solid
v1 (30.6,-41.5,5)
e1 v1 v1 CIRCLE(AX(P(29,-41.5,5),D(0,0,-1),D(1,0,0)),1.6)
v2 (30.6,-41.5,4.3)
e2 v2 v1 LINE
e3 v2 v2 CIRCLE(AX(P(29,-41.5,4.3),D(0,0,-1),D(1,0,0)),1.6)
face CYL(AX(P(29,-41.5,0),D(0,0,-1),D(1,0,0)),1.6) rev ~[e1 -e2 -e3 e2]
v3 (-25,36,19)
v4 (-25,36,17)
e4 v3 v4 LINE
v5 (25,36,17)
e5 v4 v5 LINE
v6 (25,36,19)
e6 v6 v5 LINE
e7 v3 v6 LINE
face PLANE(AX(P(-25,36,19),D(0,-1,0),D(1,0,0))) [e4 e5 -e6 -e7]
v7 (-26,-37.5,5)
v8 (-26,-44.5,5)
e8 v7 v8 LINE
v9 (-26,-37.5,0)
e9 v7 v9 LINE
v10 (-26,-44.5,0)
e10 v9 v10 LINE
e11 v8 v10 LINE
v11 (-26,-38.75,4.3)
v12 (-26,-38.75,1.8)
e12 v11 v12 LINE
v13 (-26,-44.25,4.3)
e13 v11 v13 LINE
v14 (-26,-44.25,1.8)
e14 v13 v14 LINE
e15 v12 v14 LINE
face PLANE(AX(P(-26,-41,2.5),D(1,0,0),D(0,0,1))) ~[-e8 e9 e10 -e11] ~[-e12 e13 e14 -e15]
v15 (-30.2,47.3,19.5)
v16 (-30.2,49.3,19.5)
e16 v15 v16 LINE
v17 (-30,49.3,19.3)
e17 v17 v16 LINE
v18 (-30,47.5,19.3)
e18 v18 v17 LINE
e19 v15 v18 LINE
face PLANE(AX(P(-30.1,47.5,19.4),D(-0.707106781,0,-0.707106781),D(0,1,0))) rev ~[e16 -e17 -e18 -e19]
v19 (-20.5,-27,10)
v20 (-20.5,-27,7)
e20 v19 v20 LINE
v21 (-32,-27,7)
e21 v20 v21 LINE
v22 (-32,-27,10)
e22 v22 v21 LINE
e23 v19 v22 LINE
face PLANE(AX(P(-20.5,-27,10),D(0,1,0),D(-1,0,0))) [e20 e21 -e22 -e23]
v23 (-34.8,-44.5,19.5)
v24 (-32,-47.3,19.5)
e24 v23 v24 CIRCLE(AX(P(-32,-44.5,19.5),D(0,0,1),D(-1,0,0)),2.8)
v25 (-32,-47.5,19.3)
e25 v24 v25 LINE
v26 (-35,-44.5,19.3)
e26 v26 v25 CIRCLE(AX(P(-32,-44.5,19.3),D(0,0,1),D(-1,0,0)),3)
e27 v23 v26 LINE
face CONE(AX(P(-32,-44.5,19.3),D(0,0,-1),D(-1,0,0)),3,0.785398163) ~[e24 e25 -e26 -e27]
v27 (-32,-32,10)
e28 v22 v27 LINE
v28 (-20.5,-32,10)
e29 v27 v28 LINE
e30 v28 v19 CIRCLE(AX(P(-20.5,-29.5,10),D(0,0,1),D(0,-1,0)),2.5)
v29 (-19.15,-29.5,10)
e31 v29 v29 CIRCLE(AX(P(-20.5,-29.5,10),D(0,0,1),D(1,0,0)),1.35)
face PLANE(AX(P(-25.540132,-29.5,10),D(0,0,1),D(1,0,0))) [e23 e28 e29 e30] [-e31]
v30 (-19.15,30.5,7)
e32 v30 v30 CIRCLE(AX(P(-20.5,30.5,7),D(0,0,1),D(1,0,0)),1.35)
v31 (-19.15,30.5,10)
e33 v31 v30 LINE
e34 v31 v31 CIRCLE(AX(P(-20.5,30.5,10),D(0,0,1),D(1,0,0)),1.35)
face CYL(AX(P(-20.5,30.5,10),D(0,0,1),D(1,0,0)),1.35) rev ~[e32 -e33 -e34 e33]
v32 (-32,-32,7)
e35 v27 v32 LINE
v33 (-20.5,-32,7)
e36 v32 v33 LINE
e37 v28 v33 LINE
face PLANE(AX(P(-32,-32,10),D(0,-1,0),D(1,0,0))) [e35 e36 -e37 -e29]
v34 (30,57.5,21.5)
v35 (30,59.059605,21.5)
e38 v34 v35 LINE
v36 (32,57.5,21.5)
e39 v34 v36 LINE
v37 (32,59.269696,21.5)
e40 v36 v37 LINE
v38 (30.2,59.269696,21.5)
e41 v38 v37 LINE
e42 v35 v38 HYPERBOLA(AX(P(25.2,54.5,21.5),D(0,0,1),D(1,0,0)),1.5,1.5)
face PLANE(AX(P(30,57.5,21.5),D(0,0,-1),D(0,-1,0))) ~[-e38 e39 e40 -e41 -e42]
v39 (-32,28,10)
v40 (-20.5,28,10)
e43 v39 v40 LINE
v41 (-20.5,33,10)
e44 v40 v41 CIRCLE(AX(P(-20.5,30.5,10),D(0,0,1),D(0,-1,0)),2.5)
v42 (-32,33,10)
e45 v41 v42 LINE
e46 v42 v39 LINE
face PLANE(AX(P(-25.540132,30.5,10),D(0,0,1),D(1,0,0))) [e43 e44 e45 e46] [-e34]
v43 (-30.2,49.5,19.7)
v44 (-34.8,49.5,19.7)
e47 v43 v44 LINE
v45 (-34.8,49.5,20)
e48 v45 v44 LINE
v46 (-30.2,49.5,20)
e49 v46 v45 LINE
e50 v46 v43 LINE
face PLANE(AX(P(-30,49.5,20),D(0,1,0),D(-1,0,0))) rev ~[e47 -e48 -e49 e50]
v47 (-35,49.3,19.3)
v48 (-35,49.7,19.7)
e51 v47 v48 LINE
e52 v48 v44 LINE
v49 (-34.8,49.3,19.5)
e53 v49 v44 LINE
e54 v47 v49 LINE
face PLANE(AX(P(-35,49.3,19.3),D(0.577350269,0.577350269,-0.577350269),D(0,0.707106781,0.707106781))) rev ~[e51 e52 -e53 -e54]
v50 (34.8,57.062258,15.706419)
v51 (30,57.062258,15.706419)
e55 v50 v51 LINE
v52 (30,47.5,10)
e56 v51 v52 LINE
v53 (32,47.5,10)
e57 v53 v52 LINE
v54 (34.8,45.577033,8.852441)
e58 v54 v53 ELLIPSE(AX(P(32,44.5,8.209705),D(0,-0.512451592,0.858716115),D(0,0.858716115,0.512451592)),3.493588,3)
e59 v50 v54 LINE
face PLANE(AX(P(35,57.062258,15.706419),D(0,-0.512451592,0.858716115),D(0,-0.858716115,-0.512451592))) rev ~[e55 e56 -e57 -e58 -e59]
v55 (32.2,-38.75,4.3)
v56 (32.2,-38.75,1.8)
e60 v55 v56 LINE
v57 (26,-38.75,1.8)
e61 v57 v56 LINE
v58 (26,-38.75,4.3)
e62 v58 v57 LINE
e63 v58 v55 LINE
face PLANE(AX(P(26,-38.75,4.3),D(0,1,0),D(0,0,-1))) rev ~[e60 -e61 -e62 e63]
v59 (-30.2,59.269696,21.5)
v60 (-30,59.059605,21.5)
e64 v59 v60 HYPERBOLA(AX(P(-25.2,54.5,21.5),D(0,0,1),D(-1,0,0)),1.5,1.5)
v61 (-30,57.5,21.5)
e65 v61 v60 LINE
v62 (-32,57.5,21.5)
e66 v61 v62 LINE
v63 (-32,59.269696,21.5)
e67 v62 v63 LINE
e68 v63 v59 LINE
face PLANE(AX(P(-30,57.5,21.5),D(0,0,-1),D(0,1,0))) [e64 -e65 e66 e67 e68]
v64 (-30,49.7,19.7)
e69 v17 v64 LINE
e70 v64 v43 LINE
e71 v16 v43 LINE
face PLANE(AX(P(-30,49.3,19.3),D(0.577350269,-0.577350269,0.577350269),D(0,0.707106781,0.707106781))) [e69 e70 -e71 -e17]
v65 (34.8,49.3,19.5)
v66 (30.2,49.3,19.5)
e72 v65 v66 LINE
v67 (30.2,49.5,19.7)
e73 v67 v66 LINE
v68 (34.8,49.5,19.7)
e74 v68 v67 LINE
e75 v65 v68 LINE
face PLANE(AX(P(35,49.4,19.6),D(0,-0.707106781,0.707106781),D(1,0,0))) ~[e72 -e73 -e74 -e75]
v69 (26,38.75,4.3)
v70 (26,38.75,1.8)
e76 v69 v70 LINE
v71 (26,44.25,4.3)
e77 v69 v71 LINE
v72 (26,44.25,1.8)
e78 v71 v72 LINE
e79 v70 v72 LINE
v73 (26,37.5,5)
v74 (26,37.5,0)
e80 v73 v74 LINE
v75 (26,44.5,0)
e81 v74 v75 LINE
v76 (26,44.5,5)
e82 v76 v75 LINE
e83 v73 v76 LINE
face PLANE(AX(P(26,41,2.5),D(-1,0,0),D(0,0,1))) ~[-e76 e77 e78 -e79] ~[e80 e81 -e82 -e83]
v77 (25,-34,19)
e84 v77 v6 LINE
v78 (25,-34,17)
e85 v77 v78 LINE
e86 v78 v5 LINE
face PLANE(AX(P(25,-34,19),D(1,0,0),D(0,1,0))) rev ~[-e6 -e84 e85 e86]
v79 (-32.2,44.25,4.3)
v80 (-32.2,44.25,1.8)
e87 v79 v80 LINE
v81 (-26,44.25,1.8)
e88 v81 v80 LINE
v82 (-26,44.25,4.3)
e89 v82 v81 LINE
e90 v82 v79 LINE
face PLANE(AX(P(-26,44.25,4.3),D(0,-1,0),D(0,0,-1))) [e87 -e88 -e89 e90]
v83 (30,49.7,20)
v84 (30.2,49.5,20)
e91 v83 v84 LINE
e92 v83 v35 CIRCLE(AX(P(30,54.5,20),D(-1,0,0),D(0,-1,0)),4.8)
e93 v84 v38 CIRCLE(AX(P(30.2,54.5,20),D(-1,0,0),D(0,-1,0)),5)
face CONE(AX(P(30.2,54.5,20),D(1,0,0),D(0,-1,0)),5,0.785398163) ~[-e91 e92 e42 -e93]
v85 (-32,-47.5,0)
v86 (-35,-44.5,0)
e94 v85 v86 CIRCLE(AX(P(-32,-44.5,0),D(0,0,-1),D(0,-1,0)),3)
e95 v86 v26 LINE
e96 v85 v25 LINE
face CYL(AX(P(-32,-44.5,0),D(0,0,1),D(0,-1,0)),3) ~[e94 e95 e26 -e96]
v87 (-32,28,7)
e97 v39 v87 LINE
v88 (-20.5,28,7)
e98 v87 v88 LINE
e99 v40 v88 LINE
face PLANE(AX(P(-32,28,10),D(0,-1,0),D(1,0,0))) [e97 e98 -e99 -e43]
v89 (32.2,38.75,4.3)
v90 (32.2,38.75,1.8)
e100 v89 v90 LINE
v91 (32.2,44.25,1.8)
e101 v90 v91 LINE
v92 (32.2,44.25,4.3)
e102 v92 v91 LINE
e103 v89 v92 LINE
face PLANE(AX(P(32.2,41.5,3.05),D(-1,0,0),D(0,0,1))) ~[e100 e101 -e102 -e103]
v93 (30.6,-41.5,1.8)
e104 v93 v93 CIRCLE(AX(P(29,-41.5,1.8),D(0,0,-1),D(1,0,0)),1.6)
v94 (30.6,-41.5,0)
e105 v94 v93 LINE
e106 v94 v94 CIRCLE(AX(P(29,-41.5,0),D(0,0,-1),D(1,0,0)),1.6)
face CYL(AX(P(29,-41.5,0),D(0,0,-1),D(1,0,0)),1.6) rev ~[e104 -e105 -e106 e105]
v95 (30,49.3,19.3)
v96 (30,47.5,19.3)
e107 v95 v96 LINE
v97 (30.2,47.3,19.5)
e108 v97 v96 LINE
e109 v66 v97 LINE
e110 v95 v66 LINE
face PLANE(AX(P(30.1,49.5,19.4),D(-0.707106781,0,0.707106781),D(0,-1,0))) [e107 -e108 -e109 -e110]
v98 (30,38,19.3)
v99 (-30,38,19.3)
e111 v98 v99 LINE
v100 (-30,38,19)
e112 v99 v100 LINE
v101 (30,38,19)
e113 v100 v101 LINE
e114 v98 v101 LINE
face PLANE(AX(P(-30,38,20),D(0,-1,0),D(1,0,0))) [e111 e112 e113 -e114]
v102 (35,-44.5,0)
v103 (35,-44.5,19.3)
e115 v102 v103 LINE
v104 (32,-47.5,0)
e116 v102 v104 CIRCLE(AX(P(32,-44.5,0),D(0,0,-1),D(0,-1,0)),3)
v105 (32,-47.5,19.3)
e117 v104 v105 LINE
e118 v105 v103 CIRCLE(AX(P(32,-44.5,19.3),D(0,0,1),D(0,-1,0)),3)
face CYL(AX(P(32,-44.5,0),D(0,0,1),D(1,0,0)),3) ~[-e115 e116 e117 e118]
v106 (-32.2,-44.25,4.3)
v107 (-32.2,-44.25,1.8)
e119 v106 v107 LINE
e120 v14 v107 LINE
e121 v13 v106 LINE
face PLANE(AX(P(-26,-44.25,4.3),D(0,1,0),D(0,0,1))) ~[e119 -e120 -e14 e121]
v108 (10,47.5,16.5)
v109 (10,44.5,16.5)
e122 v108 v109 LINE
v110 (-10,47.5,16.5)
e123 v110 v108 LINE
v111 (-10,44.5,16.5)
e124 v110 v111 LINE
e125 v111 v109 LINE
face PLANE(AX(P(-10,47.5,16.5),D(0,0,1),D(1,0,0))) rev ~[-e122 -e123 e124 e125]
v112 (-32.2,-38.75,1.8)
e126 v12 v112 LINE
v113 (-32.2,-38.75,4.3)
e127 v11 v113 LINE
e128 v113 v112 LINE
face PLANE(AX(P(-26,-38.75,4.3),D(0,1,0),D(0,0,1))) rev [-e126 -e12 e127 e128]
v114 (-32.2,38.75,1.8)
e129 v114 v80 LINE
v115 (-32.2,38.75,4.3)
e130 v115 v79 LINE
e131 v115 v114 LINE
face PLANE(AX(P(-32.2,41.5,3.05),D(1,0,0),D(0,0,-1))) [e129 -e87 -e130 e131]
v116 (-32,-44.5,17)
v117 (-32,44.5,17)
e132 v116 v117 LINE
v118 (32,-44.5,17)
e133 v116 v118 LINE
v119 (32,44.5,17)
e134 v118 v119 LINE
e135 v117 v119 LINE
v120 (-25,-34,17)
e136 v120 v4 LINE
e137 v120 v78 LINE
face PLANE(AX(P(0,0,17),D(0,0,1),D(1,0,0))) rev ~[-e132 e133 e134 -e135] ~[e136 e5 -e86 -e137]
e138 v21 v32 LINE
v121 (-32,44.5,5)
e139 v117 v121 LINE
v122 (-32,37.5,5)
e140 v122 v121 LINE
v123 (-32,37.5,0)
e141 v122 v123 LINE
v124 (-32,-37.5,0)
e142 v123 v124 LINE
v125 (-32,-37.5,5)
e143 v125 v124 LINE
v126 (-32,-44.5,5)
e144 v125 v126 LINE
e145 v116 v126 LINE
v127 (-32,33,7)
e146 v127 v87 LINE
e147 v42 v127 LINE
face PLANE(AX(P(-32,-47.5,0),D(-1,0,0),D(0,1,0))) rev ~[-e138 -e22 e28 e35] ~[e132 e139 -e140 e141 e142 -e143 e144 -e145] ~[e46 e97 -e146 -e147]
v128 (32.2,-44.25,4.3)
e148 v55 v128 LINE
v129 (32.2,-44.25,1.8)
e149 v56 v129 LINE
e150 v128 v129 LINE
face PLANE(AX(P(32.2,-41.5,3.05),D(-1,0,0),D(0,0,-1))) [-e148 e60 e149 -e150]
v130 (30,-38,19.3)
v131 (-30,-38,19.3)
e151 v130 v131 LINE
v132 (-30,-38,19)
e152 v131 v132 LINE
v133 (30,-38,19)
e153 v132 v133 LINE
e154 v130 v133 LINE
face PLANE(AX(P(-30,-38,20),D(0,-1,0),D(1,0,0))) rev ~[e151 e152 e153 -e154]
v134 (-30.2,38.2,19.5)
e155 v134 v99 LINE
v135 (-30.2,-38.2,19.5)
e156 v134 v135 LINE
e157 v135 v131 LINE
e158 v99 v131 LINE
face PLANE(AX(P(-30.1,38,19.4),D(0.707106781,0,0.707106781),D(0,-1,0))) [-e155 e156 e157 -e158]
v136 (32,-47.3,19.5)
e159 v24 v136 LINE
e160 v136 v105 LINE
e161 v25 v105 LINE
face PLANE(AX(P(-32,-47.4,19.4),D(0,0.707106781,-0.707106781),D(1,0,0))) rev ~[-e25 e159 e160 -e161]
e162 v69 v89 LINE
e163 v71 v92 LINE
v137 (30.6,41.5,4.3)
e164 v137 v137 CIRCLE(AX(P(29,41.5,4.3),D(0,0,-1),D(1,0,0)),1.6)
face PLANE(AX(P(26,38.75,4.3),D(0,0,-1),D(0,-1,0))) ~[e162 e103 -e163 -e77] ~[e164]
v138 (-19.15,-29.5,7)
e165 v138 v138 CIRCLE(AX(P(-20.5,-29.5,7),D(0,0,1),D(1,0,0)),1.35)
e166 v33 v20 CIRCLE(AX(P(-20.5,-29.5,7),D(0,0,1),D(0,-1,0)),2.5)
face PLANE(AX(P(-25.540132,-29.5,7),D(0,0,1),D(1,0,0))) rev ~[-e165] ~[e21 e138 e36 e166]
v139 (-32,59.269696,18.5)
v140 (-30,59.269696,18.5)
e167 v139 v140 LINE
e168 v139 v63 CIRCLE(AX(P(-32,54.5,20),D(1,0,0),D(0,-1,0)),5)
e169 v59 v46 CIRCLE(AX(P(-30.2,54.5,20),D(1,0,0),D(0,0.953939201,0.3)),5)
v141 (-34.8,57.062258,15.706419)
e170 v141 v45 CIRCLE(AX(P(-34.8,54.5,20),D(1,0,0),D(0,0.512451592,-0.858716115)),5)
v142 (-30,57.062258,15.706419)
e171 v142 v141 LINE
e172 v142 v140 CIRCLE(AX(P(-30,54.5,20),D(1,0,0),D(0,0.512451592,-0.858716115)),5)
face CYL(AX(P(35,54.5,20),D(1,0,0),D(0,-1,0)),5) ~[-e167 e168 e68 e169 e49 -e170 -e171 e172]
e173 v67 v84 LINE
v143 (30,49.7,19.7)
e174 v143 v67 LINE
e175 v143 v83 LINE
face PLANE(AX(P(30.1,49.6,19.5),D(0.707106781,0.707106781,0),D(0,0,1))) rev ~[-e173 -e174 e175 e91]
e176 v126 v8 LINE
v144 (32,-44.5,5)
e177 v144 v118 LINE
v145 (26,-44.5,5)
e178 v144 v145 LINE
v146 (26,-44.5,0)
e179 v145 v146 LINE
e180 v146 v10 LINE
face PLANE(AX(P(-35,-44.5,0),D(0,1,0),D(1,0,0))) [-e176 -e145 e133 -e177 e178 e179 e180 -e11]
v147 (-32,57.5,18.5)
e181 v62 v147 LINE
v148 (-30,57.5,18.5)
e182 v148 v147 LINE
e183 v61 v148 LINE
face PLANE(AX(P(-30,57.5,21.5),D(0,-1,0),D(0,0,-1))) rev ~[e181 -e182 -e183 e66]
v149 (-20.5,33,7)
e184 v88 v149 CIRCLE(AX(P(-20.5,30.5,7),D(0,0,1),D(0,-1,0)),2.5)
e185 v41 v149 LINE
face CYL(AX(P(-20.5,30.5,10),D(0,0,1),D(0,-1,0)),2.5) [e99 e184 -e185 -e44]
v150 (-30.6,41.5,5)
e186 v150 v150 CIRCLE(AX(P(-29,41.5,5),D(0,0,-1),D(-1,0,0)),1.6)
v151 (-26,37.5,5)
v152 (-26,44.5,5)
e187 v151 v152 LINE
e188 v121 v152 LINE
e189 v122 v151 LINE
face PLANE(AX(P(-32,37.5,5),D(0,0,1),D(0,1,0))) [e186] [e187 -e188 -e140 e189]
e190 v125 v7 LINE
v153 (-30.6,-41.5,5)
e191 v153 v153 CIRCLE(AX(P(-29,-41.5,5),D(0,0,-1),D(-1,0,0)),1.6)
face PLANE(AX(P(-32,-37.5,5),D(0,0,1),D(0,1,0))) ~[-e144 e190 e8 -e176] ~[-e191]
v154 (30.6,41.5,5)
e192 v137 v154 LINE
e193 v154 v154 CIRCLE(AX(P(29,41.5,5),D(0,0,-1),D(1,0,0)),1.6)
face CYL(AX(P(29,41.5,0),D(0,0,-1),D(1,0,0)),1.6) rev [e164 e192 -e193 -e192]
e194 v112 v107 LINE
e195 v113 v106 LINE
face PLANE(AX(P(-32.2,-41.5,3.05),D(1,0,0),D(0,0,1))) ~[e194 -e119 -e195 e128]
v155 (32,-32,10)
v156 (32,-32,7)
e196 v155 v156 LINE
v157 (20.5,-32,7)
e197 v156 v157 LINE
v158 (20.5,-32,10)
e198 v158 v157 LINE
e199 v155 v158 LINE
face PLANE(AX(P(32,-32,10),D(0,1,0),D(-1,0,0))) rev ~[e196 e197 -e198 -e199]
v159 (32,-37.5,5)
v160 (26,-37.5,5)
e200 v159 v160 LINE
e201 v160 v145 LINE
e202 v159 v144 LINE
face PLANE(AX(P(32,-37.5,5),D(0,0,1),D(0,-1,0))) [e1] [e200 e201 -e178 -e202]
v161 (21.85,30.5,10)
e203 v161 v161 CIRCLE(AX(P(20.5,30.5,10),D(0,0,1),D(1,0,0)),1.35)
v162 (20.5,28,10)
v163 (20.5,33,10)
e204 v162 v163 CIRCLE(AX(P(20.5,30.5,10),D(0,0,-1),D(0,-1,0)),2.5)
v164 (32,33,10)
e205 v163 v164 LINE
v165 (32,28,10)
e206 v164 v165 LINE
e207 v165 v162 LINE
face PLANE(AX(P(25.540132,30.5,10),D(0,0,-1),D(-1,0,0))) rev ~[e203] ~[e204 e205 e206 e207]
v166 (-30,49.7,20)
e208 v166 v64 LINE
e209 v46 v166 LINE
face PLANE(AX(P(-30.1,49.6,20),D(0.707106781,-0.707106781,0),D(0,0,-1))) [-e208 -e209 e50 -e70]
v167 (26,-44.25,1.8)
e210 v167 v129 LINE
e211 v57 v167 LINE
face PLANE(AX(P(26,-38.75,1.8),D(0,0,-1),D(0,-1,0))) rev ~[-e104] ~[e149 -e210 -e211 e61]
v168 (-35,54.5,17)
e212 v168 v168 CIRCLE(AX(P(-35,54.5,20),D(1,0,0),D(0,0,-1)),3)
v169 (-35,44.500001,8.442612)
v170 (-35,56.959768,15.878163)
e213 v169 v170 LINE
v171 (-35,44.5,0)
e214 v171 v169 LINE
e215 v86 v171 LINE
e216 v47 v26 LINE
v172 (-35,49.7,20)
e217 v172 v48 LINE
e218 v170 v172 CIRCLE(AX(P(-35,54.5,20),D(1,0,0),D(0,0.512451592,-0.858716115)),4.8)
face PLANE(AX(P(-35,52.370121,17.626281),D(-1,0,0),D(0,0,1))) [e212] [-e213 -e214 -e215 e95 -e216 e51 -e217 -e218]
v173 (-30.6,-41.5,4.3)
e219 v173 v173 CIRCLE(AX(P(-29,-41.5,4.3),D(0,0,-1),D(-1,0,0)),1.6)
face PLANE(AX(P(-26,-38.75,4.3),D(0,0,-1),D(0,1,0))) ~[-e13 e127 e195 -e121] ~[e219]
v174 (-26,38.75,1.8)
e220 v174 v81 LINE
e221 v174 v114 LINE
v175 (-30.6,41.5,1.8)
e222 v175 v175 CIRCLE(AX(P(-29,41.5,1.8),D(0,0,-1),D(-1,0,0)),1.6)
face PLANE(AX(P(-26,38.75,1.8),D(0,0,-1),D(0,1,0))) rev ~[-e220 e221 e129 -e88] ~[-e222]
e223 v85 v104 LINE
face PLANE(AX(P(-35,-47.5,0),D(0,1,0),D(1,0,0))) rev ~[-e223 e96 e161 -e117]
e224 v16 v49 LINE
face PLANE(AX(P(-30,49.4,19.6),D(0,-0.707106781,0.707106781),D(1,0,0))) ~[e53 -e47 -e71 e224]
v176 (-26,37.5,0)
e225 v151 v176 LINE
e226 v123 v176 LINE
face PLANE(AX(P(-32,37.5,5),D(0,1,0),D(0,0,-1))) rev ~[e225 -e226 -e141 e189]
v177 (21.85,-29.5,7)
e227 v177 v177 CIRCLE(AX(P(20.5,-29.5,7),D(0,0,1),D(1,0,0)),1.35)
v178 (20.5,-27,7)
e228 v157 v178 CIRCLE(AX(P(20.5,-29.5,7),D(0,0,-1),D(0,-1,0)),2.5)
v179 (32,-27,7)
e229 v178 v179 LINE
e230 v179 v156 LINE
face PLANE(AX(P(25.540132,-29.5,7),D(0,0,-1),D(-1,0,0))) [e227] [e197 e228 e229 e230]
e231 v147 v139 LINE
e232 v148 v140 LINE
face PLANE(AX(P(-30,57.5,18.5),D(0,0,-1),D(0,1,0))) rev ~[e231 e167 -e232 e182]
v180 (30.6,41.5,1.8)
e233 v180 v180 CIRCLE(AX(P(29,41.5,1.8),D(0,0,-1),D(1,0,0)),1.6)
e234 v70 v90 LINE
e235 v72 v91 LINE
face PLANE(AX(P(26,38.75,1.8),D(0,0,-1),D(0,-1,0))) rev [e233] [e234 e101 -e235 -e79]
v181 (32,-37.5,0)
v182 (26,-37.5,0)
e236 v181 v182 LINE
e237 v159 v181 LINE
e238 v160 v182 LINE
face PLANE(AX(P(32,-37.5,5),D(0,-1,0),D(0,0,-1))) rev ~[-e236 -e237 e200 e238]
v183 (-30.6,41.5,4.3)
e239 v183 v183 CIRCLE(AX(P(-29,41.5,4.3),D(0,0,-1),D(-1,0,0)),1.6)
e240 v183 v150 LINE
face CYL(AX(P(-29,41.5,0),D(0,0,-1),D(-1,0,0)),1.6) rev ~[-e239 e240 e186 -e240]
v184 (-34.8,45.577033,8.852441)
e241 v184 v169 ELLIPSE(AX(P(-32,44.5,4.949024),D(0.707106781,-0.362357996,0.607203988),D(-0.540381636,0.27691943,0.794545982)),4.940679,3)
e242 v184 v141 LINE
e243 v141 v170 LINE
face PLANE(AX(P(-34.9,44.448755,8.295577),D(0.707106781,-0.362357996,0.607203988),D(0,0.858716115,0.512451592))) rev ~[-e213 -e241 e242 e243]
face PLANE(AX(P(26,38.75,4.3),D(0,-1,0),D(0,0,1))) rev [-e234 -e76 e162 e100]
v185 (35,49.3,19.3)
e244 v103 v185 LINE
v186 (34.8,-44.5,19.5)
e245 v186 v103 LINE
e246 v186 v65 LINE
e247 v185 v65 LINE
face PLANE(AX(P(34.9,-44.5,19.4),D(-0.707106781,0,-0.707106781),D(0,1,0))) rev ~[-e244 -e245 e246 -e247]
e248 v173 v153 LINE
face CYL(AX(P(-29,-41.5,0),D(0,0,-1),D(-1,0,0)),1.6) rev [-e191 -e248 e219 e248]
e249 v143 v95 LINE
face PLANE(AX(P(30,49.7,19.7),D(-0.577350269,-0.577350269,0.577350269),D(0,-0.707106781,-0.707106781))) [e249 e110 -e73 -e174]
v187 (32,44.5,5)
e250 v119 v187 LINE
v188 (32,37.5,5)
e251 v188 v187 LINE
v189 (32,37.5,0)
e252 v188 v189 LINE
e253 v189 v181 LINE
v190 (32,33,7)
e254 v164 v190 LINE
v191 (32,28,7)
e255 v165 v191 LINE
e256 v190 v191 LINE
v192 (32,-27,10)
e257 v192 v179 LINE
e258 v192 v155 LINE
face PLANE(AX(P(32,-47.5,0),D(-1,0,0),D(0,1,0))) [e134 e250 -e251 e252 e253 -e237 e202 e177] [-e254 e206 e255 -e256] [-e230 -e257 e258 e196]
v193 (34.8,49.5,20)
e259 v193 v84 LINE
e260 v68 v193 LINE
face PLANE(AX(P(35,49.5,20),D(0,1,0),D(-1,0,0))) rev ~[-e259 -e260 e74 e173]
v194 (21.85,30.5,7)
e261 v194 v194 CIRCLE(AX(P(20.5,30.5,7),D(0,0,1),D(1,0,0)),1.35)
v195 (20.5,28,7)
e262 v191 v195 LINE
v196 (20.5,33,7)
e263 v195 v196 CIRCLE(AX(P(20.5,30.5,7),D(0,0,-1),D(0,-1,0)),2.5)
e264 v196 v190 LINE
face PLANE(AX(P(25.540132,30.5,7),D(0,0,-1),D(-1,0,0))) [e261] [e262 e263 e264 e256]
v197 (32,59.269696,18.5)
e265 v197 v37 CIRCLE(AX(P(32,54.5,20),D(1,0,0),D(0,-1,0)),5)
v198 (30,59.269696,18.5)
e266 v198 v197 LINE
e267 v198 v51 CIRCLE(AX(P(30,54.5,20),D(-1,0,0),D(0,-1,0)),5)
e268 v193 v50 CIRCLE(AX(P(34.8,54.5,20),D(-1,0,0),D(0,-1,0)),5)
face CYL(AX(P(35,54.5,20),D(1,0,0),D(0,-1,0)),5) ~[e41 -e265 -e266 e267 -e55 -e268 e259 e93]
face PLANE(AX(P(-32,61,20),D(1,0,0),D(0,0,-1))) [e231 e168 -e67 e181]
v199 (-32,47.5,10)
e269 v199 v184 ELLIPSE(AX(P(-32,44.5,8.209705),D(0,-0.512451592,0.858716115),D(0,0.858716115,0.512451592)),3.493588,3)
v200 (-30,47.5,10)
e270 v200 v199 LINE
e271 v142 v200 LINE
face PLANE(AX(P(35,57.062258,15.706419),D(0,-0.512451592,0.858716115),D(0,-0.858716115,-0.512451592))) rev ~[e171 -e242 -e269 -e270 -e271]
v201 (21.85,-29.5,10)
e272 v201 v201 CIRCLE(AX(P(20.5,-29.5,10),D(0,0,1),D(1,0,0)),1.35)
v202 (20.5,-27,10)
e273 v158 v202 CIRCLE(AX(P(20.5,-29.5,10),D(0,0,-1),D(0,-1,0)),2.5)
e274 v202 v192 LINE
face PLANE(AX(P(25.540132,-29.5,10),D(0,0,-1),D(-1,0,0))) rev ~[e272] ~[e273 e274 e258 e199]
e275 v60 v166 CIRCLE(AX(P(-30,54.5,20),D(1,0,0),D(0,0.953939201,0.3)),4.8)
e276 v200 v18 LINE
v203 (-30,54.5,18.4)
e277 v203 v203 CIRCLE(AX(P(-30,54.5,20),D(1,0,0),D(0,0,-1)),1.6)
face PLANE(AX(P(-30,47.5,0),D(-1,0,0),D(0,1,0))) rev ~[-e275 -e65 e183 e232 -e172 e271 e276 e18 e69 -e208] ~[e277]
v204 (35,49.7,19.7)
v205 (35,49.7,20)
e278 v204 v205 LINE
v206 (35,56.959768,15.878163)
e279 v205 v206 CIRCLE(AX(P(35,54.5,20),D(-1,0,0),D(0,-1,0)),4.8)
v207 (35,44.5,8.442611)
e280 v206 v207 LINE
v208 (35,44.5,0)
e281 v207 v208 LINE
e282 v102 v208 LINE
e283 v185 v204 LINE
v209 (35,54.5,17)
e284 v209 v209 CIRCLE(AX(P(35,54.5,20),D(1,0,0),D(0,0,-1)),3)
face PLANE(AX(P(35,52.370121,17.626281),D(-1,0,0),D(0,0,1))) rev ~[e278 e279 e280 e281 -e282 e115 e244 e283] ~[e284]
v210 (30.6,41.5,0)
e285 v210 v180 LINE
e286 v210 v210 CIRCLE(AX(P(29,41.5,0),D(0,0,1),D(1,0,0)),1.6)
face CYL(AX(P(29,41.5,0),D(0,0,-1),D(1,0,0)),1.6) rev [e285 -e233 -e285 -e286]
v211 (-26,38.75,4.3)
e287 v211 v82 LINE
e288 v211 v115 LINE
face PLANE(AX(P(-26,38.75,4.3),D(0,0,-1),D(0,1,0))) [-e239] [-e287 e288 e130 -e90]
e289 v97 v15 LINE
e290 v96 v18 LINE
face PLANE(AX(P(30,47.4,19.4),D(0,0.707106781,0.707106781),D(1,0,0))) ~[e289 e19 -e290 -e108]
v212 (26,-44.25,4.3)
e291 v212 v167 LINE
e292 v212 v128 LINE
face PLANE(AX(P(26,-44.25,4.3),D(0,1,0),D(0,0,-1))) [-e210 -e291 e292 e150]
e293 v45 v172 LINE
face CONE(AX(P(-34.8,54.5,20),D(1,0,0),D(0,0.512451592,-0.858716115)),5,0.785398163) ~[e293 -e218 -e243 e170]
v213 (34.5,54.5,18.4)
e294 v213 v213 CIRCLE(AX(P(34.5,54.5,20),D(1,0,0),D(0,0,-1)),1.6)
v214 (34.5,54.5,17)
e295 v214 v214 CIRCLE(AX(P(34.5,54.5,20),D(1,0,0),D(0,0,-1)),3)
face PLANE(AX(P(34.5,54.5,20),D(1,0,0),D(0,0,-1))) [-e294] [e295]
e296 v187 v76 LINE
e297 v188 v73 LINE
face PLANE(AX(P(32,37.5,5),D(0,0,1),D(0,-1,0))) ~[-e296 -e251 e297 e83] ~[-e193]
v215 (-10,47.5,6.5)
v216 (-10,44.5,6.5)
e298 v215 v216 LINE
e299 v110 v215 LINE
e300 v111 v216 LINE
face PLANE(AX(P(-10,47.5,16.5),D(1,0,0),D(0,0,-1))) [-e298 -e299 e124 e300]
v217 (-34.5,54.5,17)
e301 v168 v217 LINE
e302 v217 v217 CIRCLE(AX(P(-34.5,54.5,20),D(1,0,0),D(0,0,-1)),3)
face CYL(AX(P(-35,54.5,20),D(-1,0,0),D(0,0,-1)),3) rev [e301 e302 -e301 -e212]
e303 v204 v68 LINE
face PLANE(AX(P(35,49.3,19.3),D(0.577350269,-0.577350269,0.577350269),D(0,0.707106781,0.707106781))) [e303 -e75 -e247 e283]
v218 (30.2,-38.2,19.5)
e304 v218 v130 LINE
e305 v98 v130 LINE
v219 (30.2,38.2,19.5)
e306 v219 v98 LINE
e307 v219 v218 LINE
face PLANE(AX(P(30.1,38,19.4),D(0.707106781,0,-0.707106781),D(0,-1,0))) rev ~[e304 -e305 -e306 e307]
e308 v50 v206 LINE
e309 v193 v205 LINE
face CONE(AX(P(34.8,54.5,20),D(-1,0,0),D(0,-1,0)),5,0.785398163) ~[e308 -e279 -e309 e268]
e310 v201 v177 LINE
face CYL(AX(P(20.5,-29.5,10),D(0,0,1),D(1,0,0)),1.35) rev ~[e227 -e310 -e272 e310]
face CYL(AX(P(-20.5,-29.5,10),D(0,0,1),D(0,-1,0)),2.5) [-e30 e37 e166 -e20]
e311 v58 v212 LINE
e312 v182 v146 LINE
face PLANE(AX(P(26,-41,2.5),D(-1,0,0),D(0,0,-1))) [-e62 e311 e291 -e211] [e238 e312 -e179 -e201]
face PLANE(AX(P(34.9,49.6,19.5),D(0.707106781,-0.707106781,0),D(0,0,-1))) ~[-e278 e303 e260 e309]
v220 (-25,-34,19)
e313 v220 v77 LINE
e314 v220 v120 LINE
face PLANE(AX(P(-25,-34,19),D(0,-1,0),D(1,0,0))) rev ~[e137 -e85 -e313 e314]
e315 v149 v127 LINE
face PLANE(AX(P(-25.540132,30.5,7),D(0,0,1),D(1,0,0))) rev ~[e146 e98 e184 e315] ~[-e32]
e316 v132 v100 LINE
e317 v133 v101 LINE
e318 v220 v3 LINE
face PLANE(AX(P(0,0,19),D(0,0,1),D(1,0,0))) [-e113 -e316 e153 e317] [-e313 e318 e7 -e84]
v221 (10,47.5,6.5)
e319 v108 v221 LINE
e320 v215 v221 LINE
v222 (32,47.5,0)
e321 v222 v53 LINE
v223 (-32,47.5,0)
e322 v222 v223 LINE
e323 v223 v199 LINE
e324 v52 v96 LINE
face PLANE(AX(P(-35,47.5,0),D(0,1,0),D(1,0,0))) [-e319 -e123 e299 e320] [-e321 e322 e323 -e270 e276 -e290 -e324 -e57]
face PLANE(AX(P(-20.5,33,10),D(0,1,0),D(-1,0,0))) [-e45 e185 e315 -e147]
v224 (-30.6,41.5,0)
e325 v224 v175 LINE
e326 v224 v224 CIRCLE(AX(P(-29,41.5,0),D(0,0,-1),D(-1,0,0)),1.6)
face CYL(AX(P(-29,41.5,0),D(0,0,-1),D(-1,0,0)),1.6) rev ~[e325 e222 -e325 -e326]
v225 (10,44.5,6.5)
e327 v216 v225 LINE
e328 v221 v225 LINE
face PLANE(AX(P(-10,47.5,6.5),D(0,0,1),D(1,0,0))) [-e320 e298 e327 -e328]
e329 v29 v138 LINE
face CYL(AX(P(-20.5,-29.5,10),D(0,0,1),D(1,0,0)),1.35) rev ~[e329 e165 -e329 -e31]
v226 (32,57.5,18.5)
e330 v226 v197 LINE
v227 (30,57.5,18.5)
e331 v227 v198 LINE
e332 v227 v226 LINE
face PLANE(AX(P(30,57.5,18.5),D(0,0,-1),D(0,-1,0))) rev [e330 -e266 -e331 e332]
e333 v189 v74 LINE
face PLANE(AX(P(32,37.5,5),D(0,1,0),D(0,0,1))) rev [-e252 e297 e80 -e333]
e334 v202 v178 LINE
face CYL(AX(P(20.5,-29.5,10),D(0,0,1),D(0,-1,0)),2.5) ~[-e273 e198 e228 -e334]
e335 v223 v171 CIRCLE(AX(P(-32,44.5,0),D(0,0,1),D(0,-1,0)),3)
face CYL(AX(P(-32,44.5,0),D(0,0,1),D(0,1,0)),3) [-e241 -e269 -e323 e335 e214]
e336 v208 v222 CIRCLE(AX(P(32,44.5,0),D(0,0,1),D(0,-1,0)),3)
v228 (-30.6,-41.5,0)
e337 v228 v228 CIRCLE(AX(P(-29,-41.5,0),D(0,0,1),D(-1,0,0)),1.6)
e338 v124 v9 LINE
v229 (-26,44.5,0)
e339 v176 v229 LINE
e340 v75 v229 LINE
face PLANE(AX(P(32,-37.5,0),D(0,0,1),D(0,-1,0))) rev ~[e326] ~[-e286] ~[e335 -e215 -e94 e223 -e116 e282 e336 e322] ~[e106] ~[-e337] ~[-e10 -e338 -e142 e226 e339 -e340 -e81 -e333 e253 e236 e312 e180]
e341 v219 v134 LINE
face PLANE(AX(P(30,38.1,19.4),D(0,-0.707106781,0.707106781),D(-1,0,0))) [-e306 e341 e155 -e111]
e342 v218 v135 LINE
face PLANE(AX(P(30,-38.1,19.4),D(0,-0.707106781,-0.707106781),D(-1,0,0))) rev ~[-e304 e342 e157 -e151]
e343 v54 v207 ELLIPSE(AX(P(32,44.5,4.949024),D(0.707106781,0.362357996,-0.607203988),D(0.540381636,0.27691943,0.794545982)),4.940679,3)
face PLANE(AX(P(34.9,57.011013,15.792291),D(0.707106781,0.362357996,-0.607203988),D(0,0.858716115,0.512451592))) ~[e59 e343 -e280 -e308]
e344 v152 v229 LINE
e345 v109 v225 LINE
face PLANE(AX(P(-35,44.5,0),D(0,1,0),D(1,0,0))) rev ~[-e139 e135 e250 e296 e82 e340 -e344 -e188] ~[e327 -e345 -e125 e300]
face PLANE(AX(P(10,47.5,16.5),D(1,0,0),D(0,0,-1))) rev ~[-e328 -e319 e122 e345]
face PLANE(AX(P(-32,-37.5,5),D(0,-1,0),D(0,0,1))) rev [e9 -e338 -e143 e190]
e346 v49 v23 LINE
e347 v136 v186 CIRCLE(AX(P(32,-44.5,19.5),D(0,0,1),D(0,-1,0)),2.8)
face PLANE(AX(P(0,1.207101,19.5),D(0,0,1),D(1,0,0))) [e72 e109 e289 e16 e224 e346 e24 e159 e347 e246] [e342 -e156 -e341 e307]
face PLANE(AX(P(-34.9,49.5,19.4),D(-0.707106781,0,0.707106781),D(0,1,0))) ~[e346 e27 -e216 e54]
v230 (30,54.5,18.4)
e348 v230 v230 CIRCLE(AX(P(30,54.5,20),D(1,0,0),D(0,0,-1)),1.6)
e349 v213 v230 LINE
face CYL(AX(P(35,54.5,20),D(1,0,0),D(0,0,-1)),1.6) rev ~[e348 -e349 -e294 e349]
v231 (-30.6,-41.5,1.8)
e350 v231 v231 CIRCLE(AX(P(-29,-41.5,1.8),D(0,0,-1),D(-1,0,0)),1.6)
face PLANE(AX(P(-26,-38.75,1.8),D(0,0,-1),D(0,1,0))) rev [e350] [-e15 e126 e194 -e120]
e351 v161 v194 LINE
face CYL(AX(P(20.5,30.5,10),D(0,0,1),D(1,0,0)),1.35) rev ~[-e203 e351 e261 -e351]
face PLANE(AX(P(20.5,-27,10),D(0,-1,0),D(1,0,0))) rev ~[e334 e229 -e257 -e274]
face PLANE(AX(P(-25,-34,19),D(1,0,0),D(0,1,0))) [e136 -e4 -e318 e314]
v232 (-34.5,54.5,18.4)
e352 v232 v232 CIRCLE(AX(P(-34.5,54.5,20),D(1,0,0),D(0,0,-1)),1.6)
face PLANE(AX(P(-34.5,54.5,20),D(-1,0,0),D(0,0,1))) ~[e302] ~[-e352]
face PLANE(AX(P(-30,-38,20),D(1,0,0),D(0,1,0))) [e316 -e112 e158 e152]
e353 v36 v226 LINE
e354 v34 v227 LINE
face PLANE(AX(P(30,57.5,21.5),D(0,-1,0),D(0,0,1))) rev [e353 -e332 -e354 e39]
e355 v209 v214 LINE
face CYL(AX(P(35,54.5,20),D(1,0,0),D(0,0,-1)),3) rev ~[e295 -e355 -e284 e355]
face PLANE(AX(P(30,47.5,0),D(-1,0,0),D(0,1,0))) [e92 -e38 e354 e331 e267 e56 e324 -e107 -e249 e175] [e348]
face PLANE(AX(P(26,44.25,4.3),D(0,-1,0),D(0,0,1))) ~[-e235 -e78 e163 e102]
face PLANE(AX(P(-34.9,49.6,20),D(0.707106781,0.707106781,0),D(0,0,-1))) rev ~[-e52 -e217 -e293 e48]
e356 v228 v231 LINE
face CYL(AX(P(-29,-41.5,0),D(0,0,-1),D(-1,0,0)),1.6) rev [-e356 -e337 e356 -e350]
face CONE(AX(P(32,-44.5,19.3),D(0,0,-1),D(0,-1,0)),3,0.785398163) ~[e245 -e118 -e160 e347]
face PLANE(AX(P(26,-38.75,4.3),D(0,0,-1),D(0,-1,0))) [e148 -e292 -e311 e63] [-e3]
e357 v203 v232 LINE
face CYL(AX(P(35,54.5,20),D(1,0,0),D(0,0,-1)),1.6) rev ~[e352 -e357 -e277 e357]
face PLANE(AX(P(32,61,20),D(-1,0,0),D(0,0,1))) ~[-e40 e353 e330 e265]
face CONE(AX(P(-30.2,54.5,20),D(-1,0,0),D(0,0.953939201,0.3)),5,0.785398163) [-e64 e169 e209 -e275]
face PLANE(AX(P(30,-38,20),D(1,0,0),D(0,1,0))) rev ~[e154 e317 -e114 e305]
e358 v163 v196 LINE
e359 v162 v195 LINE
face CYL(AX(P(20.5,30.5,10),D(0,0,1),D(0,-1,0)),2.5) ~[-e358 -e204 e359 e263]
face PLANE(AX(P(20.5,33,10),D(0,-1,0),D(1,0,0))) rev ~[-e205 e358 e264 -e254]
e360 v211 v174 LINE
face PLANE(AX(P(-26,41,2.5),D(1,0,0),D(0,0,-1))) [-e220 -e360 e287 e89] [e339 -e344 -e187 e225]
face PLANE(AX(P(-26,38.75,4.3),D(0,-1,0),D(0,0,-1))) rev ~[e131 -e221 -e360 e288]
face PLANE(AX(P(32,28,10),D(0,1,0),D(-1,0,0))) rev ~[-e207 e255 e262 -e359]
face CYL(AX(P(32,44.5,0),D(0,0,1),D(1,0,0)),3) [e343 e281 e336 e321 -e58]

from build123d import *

# Parameters (mm, degrees)
SKETCH_1_W               = 70
SKETCH_1_H               = 95
EXTRUDE_1_DEPTH          = 20
SHELL_1_T                = -3
SKETCH_2_W               = 60
SKETCH_2_H               = 76
CUT_EXTRUDE_1_DEPTH      = 1
SKETCH_3_W               = 50
SKETCH_3_H               = 70
CUT_EXTRUDE_2_DEPTH      = 20
SKETCH_4_R               = 1.35
EXTRUDE_2_DEPTH          = 3
SKETCH_5_W               = 5
SKETCH_5_H               = 7
EXTRUDE_3_DEPTH          = 6
SKETCH_6_W               = 2.5
SKETCH_6_H               = 5.5
CUT_EXTRUDE_3_DEPTH      = 6.2
SKETCH_7_R               = 1.6
CUT_EXTRUDE_4_DEPTH      = 6.2
MIRROR_2_COPY_1_SKETCH_W = 5
MIRROR_2_COPY_1_SKETCH_H = 7
MIRROR_2_COPY_1_DEPTH    = 6
MIRROR_4_COPY_1_SKETCH_W = 2.5
MIRROR_4_COPY_1_SKETCH_H = 5.5
MIRROR_4_COPY_1_DEPTH    = 6.2
MIRROR_6_COPY_1_SKETCH_R = 1.6
MIRROR_6_COPY_1_DEPTH    = 6.2
EXTRUDE_4_DEPTH          = 70
SKETCH_9_R               = 1.6
CUT_EXTRUDE_5_DEPTH      = 70
SKETCH_10_W              = 60
SKETCH_10_H              = 12
CUT_EXTRUDE_6_DEPTH      = 30
SKETCH_11_W              = 3
SKETCH_11_H              = 7
CUT_EXTRUDE_7_DEPTH      = 2
SKETCH_12_R              = 3
CUT_EXTRUDE_8_DEPTH      = 0.5
CUT_EXTRUDE_9_DEPTH      = 0.5
SKETCH_14_W              = 20
SKETCH_14_H              = 10
CUT_EXTRUDE_10_DEPTH     = 10
FILLET_1_R               = 3
CHAMFER_1_SIZE           = 0.2


with BuildPart() as part:
    # 草图1 → 凸台-拉伸1 (new body)
    with BuildSketch(Plane.XY):
        Rectangle(SKETCH_1_W, SKETCH_1_H)
    extrude(amount=EXTRUDE_1_DEPTH)

    # 抽壳1
    shell_1_openings = [part.faces().sort_by_distance(p)[0] for p in [
        (0, 0, 0),
    ]]
    offset(amount=SHELL_1_T, openings=shell_1_openings, kind=Kind.INTERSECTION)

    # 草图2 → 切除-拉伸1 (cut)
    with BuildSketch(Plane.XY.offset(20)):
        Rectangle(SKETCH_2_W, SKETCH_2_H)
    extrude(amount=-CUT_EXTRUDE_1_DEPTH, mode=Mode.SUBTRACT)

    # 草图3 → 切除-拉伸2 (cut)
    with BuildSketch(Plane.XY.offset(19)):
        with Locations((0, 1)):
            Rectangle(SKETCH_3_W, SKETCH_3_H)
    extrude(amount=-CUT_EXTRUDE_2_DEPTH, mode=Mode.SUBTRACT)

    # 草图4 → 凸台-拉伸2 (add)
    # profile 1 of 4: a face of its own
    with BuildSketch(Plane.XY.offset(10)):
        with BuildLine():
            Line((20.5, 33), (32, 33))
            Line((32, 33), (32, 28))
            Line((32, 28), (20.5, 28))
            ThreePointArc((20.5, 28), (18, 30.5), (20.5, 33))
        make_face()
        with Locations((20.5, 30.5)):
            Circle(SKETCH_4_R, mode=Mode.SUBTRACT)
    # profile 2 of 4: a face of its own
    with BuildSketch(Plane.XY.offset(10)):
        with BuildLine():
            Line((-20.5, 33), (-32, 33))
            Line((-32, 33), (-32, 28))
            Line((-32, 28), (-20.5, 28))
            ThreePointArc((-20.5, 28), (-18, 30.5), (-20.5, 33))
        make_face()
        with Locations((-20.5, 30.5)):
            Circle(SKETCH_4_R, mode=Mode.SUBTRACT)
    # profile 3 of 4: a face of its own
    with BuildSketch(Plane.XY.offset(10)):
        with BuildLine():
            Line((-20.5, -27), (-32, -27))
            Line((-32, -27), (-32, -32))
            Line((-32, -32), (-20.5, -32))
            ThreePointArc((-20.5, -32), (-18, -29.5), (-20.5, -27))
        make_face()
        with Locations((-20.5, -29.5)):
            Circle(SKETCH_4_R, mode=Mode.SUBTRACT)
    # profile 4 of 4: a face of its own
    with BuildSketch(Plane.XY.offset(10)):
        with BuildLine():
            Line((20.5, -27), (32, -27))
            Line((32, -27), (32, -32))
            Line((32, -32), (20.5, -32))
            ThreePointArc((20.5, -32), (18, -29.5), (20.5, -27))
        make_face()
        with Locations((20.5, -29.5)):
            Circle(SKETCH_4_R, mode=Mode.SUBTRACT)
    extrude(amount=-EXTRUDE_2_DEPTH)

    # 草图5 → 凸台-拉伸3 (add)
    with BuildSketch(Plane(origin=(-32, 0, 0), x_dir=(0, 0, -1), z_dir=(1, 0, 0))):
        with Locations((-2.5, 41)):
            Rectangle(SKETCH_5_W, SKETCH_5_H)
    extrude_3 = extrude(amount=EXTRUDE_3_DEPTH)

    # 草图6 → 切除-拉伸3 (cut)
    with BuildSketch(Plane(origin=(-26, 0, 0), x_dir=(0, 0, -1), z_dir=(1, 0, 0))):
        with Locations((-3.05, 41.5)):
            Rectangle(SKETCH_6_W, SKETCH_6_H)
    cut_extrude_3 = extrude(amount=-CUT_EXTRUDE_3_DEPTH, mode=Mode.SUBTRACT)

    # 草图7 → 切除-拉伸4 (cut)
    with BuildSketch(Plane(origin=(0, 0, 0), x_dir=(-1, 0, 0), z_dir=(0, 0, -1))):
        with Locations((29, 41.5)):
            Circle(SKETCH_7_R)
    cut_extrude_4 = extrude(amount=-CUT_EXTRUDE_4_DEPTH, mode=Mode.SUBTRACT)

    # 镜向1: 凸台-拉伸3 across plane
    add(extrude_3.mirror(Plane.ZX))

    # 镜向2: 凸台-拉伸3 across plane
    add(extrude_3.mirror(Plane(origin=(0, 0, 0), x_dir=(0, 0, 1), z_dir=(1, 0, 0))))

    # 镜向2 copy 1 sketch → 镜向2 copy 1 (add)
    with BuildSketch(Plane(origin=(32, 0, 0), x_dir=(0, 0, -1), z_dir=(-1, 0, 0))):
        with Locations((-2.5, 41)):
            Rectangle(MIRROR_2_COPY_1_SKETCH_W, MIRROR_2_COPY_1_SKETCH_H)
    extrude(amount=MIRROR_2_COPY_1_DEPTH)

    # 镜向3: 切除-拉伸3 across plane
    add(cut_extrude_3.mirror(Plane.ZX), mode=Mode.SUBTRACT)

    # 镜向4: 切除-拉伸3 across plane
    add(cut_extrude_3.mirror(Plane(origin=(0, 0, 0), x_dir=(0, 0, 1), z_dir=(1, 0, 0))), mode=Mode.SUBTRACT)

    # 镜向4 copy 1 sketch → 镜向4 copy 1 (cut)
    with BuildSketch(Plane(origin=(26, 0, 0), x_dir=(0, 0, -1), z_dir=(-1, 0, 0))):
        with Locations((-3.05, 41.5)):
            Rectangle(MIRROR_4_COPY_1_SKETCH_W, MIRROR_4_COPY_1_SKETCH_H)
    extrude(amount=-MIRROR_4_COPY_1_DEPTH, mode=Mode.SUBTRACT)

    # 镜向5: 切除-拉伸4 across plane
    add(cut_extrude_4.mirror(Plane.ZX), mode=Mode.SUBTRACT)

    # 镜向6: 切除-拉伸4 across plane
    add(cut_extrude_4.mirror(Plane(origin=(0, 0, 0), x_dir=(0, 0, 1), z_dir=(1, 0, 0))), mode=Mode.SUBTRACT)

    # 镜向6 copy 1 sketch → 镜向6 copy 1 (cut)
    with BuildSketch(Plane(origin=(0, 0, 0), x_dir=(1, 0, 0), z_dir=(0, 0, -1))):
        with Locations((29, 41.5)):
            Circle(MIRROR_6_COPY_1_SKETCH_R)
    extrude(amount=-MIRROR_6_COPY_1_DEPTH, mode=Mode.SUBTRACT)

    # 草图8 → 凸台-拉伸4 (add)
    with BuildSketch(Plane(origin=(35, 0, 0), x_dir=(0, 0, -1), z_dir=(1, 0, 0))):
        with BuildLine():
            Line((-15.706419427, 57.062257962), (-10, 47.5))
            Line((-10, 47.5), (-20, 47.5))
            Line((-20, 47.5), (-20, 49.5))
            ThreePointArc((-20, 49.5), (-24.348062201, 56.968674765), (-15.706419427, 57.062257962))
        make_face()
    extrude(amount=-EXTRUDE_4_DEPTH)

    # 草图9 → 切除-拉伸5 (cut)
    with BuildSketch(Plane(origin=(35, 0, 0), x_dir=(0, 0, -1), z_dir=(1, 0, 0))):
        with Locations((-20, 54.5)):
            Circle(SKETCH_9_R)
    extrude(amount=-CUT_EXTRUDE_5_DEPTH, mode=Mode.SUBTRACT)

    # 草图10 → 切除-拉伸6 (cut)
    with BuildSketch(Plane(origin=(0, 0, 0), x_dir=(-1, 0, 0), z_dir=(0, 0, -1))):
        with Locations((0, 53.5)):
            Rectangle(SKETCH_10_W, SKETCH_10_H)
    extrude(amount=-CUT_EXTRUDE_6_DEPTH, mode=Mode.SUBTRACT)

    # 草图11 → 切除-拉伸7 (cut)
    with BuildSketch(Plane(origin=(-30, 0, 0), x_dir=(0, 0, -1), z_dir=(1, 0, 0))):
        with Locations((-20, 61)):
            Rectangle(SKETCH_11_W, SKETCH_11_H)
    cut_extrude_7 = extrude(amount=-CUT_EXTRUDE_7_DEPTH, mode=Mode.SUBTRACT)

    # 镜向7: 切除-拉伸7 across plane
    add(cut_extrude_7.mirror(Plane(origin=(0, 0, 0), x_dir=(0, 0, 1), z_dir=(1, 0, 0))), mode=Mode.SUBTRACT)

    # 草图12 → 切除-拉伸8 (cut)
    with BuildSketch(Plane(origin=(35, 0, 0), x_dir=(0, 0, -1), z_dir=(1, 0, 0))):
        with Locations((-20, 54.5)):
            Circle(SKETCH_12_R)
    cut_extrude_8 = extrude(amount=-CUT_EXTRUDE_8_DEPTH, mode=Mode.SUBTRACT)

    # 镜向8: 切除-拉伸8 across plane
    add(cut_extrude_8.mirror(Plane(origin=(0, 0, 0), x_dir=(0, 0, 1), z_dir=(1, 0, 0))), mode=Mode.SUBTRACT)

    # 草图13 → 切除-拉伸9 (cut)
    with BuildSketch(Plane.XY.offset(20)):
        Polygon((35, 49.5), (30, 49.5), (30, 47.5), (-30, 47.5), (-30, 49.5), (-35, 49.5), (-35, -47.5), (35, -47.5), align=None)
    extrude(amount=-CUT_EXTRUDE_9_DEPTH, mode=Mode.SUBTRACT)

    # 草图14 → 切除-拉伸10 (cut)
    with BuildSketch(Plane(origin=(0, 47.5, 0), x_dir=(1, 0, 0), z_dir=(0, 1, 0))):
        with Locations((0, -11.5)):
            Rectangle(SKETCH_14_W, SKETCH_14_H)
    extrude(amount=-CUT_EXTRUDE_10_DEPTH, mode=Mode.SUBTRACT)

    # 圆角1
    fillet_1_edges = [part.edges().sort_by_distance(p)[0] for p in [
        (-35, 47.5, 5),
        (35, 47.5, 5),
        (35, -47.5, 9.75),
        (-35, -47.5, 9.75),
    ]]
    fillet(fillet_1_edges, radius=FILLET_1_R)

    # 倒角1
    chamfer_1_edges = [part.edges().sort_by_distance(p)[0] for p in [
        (0, 38, 19.5),
        (-30, 0, 19.5),
        (0, -38, 19.5),
        (30, 0, 19.5),
        (-35, 50.781128981, 11.95806244),
        (35, 50.781128981, 11.95806244),
        (-30, 53.741211504, 24.942088629),
        (-35, 56.968674765, 24.348062201),
        (30, 53.741211504, 24.942088629),
        (35, 56.968674765, 24.348062201),
        (-30, 49.5, 19.75),
        (-35, 49.5, 19.75),
        (30, 49.5, 19.75),
        (35, 49.5, 19.75),
        (-32.5, 49.5, 19.5),
        (-30, 48.5, 19.5),
        (0, 47.5, 19.5),
        (30, 48.5, 19.5),
        (32.5, 49.5, 19.5),
        (35, 2.5, 19.5),
        (34.121320344, -46.621320344, 19.5),
        (0, -47.5, 19.5),
        (-34.121320344, -46.621320344, 19.5),
        (-35, 2.5, 19.5),
    ]]
    chamfer(chamfer_1_edges, length=CHAMFER_1_SIZE)


solid = part.part
